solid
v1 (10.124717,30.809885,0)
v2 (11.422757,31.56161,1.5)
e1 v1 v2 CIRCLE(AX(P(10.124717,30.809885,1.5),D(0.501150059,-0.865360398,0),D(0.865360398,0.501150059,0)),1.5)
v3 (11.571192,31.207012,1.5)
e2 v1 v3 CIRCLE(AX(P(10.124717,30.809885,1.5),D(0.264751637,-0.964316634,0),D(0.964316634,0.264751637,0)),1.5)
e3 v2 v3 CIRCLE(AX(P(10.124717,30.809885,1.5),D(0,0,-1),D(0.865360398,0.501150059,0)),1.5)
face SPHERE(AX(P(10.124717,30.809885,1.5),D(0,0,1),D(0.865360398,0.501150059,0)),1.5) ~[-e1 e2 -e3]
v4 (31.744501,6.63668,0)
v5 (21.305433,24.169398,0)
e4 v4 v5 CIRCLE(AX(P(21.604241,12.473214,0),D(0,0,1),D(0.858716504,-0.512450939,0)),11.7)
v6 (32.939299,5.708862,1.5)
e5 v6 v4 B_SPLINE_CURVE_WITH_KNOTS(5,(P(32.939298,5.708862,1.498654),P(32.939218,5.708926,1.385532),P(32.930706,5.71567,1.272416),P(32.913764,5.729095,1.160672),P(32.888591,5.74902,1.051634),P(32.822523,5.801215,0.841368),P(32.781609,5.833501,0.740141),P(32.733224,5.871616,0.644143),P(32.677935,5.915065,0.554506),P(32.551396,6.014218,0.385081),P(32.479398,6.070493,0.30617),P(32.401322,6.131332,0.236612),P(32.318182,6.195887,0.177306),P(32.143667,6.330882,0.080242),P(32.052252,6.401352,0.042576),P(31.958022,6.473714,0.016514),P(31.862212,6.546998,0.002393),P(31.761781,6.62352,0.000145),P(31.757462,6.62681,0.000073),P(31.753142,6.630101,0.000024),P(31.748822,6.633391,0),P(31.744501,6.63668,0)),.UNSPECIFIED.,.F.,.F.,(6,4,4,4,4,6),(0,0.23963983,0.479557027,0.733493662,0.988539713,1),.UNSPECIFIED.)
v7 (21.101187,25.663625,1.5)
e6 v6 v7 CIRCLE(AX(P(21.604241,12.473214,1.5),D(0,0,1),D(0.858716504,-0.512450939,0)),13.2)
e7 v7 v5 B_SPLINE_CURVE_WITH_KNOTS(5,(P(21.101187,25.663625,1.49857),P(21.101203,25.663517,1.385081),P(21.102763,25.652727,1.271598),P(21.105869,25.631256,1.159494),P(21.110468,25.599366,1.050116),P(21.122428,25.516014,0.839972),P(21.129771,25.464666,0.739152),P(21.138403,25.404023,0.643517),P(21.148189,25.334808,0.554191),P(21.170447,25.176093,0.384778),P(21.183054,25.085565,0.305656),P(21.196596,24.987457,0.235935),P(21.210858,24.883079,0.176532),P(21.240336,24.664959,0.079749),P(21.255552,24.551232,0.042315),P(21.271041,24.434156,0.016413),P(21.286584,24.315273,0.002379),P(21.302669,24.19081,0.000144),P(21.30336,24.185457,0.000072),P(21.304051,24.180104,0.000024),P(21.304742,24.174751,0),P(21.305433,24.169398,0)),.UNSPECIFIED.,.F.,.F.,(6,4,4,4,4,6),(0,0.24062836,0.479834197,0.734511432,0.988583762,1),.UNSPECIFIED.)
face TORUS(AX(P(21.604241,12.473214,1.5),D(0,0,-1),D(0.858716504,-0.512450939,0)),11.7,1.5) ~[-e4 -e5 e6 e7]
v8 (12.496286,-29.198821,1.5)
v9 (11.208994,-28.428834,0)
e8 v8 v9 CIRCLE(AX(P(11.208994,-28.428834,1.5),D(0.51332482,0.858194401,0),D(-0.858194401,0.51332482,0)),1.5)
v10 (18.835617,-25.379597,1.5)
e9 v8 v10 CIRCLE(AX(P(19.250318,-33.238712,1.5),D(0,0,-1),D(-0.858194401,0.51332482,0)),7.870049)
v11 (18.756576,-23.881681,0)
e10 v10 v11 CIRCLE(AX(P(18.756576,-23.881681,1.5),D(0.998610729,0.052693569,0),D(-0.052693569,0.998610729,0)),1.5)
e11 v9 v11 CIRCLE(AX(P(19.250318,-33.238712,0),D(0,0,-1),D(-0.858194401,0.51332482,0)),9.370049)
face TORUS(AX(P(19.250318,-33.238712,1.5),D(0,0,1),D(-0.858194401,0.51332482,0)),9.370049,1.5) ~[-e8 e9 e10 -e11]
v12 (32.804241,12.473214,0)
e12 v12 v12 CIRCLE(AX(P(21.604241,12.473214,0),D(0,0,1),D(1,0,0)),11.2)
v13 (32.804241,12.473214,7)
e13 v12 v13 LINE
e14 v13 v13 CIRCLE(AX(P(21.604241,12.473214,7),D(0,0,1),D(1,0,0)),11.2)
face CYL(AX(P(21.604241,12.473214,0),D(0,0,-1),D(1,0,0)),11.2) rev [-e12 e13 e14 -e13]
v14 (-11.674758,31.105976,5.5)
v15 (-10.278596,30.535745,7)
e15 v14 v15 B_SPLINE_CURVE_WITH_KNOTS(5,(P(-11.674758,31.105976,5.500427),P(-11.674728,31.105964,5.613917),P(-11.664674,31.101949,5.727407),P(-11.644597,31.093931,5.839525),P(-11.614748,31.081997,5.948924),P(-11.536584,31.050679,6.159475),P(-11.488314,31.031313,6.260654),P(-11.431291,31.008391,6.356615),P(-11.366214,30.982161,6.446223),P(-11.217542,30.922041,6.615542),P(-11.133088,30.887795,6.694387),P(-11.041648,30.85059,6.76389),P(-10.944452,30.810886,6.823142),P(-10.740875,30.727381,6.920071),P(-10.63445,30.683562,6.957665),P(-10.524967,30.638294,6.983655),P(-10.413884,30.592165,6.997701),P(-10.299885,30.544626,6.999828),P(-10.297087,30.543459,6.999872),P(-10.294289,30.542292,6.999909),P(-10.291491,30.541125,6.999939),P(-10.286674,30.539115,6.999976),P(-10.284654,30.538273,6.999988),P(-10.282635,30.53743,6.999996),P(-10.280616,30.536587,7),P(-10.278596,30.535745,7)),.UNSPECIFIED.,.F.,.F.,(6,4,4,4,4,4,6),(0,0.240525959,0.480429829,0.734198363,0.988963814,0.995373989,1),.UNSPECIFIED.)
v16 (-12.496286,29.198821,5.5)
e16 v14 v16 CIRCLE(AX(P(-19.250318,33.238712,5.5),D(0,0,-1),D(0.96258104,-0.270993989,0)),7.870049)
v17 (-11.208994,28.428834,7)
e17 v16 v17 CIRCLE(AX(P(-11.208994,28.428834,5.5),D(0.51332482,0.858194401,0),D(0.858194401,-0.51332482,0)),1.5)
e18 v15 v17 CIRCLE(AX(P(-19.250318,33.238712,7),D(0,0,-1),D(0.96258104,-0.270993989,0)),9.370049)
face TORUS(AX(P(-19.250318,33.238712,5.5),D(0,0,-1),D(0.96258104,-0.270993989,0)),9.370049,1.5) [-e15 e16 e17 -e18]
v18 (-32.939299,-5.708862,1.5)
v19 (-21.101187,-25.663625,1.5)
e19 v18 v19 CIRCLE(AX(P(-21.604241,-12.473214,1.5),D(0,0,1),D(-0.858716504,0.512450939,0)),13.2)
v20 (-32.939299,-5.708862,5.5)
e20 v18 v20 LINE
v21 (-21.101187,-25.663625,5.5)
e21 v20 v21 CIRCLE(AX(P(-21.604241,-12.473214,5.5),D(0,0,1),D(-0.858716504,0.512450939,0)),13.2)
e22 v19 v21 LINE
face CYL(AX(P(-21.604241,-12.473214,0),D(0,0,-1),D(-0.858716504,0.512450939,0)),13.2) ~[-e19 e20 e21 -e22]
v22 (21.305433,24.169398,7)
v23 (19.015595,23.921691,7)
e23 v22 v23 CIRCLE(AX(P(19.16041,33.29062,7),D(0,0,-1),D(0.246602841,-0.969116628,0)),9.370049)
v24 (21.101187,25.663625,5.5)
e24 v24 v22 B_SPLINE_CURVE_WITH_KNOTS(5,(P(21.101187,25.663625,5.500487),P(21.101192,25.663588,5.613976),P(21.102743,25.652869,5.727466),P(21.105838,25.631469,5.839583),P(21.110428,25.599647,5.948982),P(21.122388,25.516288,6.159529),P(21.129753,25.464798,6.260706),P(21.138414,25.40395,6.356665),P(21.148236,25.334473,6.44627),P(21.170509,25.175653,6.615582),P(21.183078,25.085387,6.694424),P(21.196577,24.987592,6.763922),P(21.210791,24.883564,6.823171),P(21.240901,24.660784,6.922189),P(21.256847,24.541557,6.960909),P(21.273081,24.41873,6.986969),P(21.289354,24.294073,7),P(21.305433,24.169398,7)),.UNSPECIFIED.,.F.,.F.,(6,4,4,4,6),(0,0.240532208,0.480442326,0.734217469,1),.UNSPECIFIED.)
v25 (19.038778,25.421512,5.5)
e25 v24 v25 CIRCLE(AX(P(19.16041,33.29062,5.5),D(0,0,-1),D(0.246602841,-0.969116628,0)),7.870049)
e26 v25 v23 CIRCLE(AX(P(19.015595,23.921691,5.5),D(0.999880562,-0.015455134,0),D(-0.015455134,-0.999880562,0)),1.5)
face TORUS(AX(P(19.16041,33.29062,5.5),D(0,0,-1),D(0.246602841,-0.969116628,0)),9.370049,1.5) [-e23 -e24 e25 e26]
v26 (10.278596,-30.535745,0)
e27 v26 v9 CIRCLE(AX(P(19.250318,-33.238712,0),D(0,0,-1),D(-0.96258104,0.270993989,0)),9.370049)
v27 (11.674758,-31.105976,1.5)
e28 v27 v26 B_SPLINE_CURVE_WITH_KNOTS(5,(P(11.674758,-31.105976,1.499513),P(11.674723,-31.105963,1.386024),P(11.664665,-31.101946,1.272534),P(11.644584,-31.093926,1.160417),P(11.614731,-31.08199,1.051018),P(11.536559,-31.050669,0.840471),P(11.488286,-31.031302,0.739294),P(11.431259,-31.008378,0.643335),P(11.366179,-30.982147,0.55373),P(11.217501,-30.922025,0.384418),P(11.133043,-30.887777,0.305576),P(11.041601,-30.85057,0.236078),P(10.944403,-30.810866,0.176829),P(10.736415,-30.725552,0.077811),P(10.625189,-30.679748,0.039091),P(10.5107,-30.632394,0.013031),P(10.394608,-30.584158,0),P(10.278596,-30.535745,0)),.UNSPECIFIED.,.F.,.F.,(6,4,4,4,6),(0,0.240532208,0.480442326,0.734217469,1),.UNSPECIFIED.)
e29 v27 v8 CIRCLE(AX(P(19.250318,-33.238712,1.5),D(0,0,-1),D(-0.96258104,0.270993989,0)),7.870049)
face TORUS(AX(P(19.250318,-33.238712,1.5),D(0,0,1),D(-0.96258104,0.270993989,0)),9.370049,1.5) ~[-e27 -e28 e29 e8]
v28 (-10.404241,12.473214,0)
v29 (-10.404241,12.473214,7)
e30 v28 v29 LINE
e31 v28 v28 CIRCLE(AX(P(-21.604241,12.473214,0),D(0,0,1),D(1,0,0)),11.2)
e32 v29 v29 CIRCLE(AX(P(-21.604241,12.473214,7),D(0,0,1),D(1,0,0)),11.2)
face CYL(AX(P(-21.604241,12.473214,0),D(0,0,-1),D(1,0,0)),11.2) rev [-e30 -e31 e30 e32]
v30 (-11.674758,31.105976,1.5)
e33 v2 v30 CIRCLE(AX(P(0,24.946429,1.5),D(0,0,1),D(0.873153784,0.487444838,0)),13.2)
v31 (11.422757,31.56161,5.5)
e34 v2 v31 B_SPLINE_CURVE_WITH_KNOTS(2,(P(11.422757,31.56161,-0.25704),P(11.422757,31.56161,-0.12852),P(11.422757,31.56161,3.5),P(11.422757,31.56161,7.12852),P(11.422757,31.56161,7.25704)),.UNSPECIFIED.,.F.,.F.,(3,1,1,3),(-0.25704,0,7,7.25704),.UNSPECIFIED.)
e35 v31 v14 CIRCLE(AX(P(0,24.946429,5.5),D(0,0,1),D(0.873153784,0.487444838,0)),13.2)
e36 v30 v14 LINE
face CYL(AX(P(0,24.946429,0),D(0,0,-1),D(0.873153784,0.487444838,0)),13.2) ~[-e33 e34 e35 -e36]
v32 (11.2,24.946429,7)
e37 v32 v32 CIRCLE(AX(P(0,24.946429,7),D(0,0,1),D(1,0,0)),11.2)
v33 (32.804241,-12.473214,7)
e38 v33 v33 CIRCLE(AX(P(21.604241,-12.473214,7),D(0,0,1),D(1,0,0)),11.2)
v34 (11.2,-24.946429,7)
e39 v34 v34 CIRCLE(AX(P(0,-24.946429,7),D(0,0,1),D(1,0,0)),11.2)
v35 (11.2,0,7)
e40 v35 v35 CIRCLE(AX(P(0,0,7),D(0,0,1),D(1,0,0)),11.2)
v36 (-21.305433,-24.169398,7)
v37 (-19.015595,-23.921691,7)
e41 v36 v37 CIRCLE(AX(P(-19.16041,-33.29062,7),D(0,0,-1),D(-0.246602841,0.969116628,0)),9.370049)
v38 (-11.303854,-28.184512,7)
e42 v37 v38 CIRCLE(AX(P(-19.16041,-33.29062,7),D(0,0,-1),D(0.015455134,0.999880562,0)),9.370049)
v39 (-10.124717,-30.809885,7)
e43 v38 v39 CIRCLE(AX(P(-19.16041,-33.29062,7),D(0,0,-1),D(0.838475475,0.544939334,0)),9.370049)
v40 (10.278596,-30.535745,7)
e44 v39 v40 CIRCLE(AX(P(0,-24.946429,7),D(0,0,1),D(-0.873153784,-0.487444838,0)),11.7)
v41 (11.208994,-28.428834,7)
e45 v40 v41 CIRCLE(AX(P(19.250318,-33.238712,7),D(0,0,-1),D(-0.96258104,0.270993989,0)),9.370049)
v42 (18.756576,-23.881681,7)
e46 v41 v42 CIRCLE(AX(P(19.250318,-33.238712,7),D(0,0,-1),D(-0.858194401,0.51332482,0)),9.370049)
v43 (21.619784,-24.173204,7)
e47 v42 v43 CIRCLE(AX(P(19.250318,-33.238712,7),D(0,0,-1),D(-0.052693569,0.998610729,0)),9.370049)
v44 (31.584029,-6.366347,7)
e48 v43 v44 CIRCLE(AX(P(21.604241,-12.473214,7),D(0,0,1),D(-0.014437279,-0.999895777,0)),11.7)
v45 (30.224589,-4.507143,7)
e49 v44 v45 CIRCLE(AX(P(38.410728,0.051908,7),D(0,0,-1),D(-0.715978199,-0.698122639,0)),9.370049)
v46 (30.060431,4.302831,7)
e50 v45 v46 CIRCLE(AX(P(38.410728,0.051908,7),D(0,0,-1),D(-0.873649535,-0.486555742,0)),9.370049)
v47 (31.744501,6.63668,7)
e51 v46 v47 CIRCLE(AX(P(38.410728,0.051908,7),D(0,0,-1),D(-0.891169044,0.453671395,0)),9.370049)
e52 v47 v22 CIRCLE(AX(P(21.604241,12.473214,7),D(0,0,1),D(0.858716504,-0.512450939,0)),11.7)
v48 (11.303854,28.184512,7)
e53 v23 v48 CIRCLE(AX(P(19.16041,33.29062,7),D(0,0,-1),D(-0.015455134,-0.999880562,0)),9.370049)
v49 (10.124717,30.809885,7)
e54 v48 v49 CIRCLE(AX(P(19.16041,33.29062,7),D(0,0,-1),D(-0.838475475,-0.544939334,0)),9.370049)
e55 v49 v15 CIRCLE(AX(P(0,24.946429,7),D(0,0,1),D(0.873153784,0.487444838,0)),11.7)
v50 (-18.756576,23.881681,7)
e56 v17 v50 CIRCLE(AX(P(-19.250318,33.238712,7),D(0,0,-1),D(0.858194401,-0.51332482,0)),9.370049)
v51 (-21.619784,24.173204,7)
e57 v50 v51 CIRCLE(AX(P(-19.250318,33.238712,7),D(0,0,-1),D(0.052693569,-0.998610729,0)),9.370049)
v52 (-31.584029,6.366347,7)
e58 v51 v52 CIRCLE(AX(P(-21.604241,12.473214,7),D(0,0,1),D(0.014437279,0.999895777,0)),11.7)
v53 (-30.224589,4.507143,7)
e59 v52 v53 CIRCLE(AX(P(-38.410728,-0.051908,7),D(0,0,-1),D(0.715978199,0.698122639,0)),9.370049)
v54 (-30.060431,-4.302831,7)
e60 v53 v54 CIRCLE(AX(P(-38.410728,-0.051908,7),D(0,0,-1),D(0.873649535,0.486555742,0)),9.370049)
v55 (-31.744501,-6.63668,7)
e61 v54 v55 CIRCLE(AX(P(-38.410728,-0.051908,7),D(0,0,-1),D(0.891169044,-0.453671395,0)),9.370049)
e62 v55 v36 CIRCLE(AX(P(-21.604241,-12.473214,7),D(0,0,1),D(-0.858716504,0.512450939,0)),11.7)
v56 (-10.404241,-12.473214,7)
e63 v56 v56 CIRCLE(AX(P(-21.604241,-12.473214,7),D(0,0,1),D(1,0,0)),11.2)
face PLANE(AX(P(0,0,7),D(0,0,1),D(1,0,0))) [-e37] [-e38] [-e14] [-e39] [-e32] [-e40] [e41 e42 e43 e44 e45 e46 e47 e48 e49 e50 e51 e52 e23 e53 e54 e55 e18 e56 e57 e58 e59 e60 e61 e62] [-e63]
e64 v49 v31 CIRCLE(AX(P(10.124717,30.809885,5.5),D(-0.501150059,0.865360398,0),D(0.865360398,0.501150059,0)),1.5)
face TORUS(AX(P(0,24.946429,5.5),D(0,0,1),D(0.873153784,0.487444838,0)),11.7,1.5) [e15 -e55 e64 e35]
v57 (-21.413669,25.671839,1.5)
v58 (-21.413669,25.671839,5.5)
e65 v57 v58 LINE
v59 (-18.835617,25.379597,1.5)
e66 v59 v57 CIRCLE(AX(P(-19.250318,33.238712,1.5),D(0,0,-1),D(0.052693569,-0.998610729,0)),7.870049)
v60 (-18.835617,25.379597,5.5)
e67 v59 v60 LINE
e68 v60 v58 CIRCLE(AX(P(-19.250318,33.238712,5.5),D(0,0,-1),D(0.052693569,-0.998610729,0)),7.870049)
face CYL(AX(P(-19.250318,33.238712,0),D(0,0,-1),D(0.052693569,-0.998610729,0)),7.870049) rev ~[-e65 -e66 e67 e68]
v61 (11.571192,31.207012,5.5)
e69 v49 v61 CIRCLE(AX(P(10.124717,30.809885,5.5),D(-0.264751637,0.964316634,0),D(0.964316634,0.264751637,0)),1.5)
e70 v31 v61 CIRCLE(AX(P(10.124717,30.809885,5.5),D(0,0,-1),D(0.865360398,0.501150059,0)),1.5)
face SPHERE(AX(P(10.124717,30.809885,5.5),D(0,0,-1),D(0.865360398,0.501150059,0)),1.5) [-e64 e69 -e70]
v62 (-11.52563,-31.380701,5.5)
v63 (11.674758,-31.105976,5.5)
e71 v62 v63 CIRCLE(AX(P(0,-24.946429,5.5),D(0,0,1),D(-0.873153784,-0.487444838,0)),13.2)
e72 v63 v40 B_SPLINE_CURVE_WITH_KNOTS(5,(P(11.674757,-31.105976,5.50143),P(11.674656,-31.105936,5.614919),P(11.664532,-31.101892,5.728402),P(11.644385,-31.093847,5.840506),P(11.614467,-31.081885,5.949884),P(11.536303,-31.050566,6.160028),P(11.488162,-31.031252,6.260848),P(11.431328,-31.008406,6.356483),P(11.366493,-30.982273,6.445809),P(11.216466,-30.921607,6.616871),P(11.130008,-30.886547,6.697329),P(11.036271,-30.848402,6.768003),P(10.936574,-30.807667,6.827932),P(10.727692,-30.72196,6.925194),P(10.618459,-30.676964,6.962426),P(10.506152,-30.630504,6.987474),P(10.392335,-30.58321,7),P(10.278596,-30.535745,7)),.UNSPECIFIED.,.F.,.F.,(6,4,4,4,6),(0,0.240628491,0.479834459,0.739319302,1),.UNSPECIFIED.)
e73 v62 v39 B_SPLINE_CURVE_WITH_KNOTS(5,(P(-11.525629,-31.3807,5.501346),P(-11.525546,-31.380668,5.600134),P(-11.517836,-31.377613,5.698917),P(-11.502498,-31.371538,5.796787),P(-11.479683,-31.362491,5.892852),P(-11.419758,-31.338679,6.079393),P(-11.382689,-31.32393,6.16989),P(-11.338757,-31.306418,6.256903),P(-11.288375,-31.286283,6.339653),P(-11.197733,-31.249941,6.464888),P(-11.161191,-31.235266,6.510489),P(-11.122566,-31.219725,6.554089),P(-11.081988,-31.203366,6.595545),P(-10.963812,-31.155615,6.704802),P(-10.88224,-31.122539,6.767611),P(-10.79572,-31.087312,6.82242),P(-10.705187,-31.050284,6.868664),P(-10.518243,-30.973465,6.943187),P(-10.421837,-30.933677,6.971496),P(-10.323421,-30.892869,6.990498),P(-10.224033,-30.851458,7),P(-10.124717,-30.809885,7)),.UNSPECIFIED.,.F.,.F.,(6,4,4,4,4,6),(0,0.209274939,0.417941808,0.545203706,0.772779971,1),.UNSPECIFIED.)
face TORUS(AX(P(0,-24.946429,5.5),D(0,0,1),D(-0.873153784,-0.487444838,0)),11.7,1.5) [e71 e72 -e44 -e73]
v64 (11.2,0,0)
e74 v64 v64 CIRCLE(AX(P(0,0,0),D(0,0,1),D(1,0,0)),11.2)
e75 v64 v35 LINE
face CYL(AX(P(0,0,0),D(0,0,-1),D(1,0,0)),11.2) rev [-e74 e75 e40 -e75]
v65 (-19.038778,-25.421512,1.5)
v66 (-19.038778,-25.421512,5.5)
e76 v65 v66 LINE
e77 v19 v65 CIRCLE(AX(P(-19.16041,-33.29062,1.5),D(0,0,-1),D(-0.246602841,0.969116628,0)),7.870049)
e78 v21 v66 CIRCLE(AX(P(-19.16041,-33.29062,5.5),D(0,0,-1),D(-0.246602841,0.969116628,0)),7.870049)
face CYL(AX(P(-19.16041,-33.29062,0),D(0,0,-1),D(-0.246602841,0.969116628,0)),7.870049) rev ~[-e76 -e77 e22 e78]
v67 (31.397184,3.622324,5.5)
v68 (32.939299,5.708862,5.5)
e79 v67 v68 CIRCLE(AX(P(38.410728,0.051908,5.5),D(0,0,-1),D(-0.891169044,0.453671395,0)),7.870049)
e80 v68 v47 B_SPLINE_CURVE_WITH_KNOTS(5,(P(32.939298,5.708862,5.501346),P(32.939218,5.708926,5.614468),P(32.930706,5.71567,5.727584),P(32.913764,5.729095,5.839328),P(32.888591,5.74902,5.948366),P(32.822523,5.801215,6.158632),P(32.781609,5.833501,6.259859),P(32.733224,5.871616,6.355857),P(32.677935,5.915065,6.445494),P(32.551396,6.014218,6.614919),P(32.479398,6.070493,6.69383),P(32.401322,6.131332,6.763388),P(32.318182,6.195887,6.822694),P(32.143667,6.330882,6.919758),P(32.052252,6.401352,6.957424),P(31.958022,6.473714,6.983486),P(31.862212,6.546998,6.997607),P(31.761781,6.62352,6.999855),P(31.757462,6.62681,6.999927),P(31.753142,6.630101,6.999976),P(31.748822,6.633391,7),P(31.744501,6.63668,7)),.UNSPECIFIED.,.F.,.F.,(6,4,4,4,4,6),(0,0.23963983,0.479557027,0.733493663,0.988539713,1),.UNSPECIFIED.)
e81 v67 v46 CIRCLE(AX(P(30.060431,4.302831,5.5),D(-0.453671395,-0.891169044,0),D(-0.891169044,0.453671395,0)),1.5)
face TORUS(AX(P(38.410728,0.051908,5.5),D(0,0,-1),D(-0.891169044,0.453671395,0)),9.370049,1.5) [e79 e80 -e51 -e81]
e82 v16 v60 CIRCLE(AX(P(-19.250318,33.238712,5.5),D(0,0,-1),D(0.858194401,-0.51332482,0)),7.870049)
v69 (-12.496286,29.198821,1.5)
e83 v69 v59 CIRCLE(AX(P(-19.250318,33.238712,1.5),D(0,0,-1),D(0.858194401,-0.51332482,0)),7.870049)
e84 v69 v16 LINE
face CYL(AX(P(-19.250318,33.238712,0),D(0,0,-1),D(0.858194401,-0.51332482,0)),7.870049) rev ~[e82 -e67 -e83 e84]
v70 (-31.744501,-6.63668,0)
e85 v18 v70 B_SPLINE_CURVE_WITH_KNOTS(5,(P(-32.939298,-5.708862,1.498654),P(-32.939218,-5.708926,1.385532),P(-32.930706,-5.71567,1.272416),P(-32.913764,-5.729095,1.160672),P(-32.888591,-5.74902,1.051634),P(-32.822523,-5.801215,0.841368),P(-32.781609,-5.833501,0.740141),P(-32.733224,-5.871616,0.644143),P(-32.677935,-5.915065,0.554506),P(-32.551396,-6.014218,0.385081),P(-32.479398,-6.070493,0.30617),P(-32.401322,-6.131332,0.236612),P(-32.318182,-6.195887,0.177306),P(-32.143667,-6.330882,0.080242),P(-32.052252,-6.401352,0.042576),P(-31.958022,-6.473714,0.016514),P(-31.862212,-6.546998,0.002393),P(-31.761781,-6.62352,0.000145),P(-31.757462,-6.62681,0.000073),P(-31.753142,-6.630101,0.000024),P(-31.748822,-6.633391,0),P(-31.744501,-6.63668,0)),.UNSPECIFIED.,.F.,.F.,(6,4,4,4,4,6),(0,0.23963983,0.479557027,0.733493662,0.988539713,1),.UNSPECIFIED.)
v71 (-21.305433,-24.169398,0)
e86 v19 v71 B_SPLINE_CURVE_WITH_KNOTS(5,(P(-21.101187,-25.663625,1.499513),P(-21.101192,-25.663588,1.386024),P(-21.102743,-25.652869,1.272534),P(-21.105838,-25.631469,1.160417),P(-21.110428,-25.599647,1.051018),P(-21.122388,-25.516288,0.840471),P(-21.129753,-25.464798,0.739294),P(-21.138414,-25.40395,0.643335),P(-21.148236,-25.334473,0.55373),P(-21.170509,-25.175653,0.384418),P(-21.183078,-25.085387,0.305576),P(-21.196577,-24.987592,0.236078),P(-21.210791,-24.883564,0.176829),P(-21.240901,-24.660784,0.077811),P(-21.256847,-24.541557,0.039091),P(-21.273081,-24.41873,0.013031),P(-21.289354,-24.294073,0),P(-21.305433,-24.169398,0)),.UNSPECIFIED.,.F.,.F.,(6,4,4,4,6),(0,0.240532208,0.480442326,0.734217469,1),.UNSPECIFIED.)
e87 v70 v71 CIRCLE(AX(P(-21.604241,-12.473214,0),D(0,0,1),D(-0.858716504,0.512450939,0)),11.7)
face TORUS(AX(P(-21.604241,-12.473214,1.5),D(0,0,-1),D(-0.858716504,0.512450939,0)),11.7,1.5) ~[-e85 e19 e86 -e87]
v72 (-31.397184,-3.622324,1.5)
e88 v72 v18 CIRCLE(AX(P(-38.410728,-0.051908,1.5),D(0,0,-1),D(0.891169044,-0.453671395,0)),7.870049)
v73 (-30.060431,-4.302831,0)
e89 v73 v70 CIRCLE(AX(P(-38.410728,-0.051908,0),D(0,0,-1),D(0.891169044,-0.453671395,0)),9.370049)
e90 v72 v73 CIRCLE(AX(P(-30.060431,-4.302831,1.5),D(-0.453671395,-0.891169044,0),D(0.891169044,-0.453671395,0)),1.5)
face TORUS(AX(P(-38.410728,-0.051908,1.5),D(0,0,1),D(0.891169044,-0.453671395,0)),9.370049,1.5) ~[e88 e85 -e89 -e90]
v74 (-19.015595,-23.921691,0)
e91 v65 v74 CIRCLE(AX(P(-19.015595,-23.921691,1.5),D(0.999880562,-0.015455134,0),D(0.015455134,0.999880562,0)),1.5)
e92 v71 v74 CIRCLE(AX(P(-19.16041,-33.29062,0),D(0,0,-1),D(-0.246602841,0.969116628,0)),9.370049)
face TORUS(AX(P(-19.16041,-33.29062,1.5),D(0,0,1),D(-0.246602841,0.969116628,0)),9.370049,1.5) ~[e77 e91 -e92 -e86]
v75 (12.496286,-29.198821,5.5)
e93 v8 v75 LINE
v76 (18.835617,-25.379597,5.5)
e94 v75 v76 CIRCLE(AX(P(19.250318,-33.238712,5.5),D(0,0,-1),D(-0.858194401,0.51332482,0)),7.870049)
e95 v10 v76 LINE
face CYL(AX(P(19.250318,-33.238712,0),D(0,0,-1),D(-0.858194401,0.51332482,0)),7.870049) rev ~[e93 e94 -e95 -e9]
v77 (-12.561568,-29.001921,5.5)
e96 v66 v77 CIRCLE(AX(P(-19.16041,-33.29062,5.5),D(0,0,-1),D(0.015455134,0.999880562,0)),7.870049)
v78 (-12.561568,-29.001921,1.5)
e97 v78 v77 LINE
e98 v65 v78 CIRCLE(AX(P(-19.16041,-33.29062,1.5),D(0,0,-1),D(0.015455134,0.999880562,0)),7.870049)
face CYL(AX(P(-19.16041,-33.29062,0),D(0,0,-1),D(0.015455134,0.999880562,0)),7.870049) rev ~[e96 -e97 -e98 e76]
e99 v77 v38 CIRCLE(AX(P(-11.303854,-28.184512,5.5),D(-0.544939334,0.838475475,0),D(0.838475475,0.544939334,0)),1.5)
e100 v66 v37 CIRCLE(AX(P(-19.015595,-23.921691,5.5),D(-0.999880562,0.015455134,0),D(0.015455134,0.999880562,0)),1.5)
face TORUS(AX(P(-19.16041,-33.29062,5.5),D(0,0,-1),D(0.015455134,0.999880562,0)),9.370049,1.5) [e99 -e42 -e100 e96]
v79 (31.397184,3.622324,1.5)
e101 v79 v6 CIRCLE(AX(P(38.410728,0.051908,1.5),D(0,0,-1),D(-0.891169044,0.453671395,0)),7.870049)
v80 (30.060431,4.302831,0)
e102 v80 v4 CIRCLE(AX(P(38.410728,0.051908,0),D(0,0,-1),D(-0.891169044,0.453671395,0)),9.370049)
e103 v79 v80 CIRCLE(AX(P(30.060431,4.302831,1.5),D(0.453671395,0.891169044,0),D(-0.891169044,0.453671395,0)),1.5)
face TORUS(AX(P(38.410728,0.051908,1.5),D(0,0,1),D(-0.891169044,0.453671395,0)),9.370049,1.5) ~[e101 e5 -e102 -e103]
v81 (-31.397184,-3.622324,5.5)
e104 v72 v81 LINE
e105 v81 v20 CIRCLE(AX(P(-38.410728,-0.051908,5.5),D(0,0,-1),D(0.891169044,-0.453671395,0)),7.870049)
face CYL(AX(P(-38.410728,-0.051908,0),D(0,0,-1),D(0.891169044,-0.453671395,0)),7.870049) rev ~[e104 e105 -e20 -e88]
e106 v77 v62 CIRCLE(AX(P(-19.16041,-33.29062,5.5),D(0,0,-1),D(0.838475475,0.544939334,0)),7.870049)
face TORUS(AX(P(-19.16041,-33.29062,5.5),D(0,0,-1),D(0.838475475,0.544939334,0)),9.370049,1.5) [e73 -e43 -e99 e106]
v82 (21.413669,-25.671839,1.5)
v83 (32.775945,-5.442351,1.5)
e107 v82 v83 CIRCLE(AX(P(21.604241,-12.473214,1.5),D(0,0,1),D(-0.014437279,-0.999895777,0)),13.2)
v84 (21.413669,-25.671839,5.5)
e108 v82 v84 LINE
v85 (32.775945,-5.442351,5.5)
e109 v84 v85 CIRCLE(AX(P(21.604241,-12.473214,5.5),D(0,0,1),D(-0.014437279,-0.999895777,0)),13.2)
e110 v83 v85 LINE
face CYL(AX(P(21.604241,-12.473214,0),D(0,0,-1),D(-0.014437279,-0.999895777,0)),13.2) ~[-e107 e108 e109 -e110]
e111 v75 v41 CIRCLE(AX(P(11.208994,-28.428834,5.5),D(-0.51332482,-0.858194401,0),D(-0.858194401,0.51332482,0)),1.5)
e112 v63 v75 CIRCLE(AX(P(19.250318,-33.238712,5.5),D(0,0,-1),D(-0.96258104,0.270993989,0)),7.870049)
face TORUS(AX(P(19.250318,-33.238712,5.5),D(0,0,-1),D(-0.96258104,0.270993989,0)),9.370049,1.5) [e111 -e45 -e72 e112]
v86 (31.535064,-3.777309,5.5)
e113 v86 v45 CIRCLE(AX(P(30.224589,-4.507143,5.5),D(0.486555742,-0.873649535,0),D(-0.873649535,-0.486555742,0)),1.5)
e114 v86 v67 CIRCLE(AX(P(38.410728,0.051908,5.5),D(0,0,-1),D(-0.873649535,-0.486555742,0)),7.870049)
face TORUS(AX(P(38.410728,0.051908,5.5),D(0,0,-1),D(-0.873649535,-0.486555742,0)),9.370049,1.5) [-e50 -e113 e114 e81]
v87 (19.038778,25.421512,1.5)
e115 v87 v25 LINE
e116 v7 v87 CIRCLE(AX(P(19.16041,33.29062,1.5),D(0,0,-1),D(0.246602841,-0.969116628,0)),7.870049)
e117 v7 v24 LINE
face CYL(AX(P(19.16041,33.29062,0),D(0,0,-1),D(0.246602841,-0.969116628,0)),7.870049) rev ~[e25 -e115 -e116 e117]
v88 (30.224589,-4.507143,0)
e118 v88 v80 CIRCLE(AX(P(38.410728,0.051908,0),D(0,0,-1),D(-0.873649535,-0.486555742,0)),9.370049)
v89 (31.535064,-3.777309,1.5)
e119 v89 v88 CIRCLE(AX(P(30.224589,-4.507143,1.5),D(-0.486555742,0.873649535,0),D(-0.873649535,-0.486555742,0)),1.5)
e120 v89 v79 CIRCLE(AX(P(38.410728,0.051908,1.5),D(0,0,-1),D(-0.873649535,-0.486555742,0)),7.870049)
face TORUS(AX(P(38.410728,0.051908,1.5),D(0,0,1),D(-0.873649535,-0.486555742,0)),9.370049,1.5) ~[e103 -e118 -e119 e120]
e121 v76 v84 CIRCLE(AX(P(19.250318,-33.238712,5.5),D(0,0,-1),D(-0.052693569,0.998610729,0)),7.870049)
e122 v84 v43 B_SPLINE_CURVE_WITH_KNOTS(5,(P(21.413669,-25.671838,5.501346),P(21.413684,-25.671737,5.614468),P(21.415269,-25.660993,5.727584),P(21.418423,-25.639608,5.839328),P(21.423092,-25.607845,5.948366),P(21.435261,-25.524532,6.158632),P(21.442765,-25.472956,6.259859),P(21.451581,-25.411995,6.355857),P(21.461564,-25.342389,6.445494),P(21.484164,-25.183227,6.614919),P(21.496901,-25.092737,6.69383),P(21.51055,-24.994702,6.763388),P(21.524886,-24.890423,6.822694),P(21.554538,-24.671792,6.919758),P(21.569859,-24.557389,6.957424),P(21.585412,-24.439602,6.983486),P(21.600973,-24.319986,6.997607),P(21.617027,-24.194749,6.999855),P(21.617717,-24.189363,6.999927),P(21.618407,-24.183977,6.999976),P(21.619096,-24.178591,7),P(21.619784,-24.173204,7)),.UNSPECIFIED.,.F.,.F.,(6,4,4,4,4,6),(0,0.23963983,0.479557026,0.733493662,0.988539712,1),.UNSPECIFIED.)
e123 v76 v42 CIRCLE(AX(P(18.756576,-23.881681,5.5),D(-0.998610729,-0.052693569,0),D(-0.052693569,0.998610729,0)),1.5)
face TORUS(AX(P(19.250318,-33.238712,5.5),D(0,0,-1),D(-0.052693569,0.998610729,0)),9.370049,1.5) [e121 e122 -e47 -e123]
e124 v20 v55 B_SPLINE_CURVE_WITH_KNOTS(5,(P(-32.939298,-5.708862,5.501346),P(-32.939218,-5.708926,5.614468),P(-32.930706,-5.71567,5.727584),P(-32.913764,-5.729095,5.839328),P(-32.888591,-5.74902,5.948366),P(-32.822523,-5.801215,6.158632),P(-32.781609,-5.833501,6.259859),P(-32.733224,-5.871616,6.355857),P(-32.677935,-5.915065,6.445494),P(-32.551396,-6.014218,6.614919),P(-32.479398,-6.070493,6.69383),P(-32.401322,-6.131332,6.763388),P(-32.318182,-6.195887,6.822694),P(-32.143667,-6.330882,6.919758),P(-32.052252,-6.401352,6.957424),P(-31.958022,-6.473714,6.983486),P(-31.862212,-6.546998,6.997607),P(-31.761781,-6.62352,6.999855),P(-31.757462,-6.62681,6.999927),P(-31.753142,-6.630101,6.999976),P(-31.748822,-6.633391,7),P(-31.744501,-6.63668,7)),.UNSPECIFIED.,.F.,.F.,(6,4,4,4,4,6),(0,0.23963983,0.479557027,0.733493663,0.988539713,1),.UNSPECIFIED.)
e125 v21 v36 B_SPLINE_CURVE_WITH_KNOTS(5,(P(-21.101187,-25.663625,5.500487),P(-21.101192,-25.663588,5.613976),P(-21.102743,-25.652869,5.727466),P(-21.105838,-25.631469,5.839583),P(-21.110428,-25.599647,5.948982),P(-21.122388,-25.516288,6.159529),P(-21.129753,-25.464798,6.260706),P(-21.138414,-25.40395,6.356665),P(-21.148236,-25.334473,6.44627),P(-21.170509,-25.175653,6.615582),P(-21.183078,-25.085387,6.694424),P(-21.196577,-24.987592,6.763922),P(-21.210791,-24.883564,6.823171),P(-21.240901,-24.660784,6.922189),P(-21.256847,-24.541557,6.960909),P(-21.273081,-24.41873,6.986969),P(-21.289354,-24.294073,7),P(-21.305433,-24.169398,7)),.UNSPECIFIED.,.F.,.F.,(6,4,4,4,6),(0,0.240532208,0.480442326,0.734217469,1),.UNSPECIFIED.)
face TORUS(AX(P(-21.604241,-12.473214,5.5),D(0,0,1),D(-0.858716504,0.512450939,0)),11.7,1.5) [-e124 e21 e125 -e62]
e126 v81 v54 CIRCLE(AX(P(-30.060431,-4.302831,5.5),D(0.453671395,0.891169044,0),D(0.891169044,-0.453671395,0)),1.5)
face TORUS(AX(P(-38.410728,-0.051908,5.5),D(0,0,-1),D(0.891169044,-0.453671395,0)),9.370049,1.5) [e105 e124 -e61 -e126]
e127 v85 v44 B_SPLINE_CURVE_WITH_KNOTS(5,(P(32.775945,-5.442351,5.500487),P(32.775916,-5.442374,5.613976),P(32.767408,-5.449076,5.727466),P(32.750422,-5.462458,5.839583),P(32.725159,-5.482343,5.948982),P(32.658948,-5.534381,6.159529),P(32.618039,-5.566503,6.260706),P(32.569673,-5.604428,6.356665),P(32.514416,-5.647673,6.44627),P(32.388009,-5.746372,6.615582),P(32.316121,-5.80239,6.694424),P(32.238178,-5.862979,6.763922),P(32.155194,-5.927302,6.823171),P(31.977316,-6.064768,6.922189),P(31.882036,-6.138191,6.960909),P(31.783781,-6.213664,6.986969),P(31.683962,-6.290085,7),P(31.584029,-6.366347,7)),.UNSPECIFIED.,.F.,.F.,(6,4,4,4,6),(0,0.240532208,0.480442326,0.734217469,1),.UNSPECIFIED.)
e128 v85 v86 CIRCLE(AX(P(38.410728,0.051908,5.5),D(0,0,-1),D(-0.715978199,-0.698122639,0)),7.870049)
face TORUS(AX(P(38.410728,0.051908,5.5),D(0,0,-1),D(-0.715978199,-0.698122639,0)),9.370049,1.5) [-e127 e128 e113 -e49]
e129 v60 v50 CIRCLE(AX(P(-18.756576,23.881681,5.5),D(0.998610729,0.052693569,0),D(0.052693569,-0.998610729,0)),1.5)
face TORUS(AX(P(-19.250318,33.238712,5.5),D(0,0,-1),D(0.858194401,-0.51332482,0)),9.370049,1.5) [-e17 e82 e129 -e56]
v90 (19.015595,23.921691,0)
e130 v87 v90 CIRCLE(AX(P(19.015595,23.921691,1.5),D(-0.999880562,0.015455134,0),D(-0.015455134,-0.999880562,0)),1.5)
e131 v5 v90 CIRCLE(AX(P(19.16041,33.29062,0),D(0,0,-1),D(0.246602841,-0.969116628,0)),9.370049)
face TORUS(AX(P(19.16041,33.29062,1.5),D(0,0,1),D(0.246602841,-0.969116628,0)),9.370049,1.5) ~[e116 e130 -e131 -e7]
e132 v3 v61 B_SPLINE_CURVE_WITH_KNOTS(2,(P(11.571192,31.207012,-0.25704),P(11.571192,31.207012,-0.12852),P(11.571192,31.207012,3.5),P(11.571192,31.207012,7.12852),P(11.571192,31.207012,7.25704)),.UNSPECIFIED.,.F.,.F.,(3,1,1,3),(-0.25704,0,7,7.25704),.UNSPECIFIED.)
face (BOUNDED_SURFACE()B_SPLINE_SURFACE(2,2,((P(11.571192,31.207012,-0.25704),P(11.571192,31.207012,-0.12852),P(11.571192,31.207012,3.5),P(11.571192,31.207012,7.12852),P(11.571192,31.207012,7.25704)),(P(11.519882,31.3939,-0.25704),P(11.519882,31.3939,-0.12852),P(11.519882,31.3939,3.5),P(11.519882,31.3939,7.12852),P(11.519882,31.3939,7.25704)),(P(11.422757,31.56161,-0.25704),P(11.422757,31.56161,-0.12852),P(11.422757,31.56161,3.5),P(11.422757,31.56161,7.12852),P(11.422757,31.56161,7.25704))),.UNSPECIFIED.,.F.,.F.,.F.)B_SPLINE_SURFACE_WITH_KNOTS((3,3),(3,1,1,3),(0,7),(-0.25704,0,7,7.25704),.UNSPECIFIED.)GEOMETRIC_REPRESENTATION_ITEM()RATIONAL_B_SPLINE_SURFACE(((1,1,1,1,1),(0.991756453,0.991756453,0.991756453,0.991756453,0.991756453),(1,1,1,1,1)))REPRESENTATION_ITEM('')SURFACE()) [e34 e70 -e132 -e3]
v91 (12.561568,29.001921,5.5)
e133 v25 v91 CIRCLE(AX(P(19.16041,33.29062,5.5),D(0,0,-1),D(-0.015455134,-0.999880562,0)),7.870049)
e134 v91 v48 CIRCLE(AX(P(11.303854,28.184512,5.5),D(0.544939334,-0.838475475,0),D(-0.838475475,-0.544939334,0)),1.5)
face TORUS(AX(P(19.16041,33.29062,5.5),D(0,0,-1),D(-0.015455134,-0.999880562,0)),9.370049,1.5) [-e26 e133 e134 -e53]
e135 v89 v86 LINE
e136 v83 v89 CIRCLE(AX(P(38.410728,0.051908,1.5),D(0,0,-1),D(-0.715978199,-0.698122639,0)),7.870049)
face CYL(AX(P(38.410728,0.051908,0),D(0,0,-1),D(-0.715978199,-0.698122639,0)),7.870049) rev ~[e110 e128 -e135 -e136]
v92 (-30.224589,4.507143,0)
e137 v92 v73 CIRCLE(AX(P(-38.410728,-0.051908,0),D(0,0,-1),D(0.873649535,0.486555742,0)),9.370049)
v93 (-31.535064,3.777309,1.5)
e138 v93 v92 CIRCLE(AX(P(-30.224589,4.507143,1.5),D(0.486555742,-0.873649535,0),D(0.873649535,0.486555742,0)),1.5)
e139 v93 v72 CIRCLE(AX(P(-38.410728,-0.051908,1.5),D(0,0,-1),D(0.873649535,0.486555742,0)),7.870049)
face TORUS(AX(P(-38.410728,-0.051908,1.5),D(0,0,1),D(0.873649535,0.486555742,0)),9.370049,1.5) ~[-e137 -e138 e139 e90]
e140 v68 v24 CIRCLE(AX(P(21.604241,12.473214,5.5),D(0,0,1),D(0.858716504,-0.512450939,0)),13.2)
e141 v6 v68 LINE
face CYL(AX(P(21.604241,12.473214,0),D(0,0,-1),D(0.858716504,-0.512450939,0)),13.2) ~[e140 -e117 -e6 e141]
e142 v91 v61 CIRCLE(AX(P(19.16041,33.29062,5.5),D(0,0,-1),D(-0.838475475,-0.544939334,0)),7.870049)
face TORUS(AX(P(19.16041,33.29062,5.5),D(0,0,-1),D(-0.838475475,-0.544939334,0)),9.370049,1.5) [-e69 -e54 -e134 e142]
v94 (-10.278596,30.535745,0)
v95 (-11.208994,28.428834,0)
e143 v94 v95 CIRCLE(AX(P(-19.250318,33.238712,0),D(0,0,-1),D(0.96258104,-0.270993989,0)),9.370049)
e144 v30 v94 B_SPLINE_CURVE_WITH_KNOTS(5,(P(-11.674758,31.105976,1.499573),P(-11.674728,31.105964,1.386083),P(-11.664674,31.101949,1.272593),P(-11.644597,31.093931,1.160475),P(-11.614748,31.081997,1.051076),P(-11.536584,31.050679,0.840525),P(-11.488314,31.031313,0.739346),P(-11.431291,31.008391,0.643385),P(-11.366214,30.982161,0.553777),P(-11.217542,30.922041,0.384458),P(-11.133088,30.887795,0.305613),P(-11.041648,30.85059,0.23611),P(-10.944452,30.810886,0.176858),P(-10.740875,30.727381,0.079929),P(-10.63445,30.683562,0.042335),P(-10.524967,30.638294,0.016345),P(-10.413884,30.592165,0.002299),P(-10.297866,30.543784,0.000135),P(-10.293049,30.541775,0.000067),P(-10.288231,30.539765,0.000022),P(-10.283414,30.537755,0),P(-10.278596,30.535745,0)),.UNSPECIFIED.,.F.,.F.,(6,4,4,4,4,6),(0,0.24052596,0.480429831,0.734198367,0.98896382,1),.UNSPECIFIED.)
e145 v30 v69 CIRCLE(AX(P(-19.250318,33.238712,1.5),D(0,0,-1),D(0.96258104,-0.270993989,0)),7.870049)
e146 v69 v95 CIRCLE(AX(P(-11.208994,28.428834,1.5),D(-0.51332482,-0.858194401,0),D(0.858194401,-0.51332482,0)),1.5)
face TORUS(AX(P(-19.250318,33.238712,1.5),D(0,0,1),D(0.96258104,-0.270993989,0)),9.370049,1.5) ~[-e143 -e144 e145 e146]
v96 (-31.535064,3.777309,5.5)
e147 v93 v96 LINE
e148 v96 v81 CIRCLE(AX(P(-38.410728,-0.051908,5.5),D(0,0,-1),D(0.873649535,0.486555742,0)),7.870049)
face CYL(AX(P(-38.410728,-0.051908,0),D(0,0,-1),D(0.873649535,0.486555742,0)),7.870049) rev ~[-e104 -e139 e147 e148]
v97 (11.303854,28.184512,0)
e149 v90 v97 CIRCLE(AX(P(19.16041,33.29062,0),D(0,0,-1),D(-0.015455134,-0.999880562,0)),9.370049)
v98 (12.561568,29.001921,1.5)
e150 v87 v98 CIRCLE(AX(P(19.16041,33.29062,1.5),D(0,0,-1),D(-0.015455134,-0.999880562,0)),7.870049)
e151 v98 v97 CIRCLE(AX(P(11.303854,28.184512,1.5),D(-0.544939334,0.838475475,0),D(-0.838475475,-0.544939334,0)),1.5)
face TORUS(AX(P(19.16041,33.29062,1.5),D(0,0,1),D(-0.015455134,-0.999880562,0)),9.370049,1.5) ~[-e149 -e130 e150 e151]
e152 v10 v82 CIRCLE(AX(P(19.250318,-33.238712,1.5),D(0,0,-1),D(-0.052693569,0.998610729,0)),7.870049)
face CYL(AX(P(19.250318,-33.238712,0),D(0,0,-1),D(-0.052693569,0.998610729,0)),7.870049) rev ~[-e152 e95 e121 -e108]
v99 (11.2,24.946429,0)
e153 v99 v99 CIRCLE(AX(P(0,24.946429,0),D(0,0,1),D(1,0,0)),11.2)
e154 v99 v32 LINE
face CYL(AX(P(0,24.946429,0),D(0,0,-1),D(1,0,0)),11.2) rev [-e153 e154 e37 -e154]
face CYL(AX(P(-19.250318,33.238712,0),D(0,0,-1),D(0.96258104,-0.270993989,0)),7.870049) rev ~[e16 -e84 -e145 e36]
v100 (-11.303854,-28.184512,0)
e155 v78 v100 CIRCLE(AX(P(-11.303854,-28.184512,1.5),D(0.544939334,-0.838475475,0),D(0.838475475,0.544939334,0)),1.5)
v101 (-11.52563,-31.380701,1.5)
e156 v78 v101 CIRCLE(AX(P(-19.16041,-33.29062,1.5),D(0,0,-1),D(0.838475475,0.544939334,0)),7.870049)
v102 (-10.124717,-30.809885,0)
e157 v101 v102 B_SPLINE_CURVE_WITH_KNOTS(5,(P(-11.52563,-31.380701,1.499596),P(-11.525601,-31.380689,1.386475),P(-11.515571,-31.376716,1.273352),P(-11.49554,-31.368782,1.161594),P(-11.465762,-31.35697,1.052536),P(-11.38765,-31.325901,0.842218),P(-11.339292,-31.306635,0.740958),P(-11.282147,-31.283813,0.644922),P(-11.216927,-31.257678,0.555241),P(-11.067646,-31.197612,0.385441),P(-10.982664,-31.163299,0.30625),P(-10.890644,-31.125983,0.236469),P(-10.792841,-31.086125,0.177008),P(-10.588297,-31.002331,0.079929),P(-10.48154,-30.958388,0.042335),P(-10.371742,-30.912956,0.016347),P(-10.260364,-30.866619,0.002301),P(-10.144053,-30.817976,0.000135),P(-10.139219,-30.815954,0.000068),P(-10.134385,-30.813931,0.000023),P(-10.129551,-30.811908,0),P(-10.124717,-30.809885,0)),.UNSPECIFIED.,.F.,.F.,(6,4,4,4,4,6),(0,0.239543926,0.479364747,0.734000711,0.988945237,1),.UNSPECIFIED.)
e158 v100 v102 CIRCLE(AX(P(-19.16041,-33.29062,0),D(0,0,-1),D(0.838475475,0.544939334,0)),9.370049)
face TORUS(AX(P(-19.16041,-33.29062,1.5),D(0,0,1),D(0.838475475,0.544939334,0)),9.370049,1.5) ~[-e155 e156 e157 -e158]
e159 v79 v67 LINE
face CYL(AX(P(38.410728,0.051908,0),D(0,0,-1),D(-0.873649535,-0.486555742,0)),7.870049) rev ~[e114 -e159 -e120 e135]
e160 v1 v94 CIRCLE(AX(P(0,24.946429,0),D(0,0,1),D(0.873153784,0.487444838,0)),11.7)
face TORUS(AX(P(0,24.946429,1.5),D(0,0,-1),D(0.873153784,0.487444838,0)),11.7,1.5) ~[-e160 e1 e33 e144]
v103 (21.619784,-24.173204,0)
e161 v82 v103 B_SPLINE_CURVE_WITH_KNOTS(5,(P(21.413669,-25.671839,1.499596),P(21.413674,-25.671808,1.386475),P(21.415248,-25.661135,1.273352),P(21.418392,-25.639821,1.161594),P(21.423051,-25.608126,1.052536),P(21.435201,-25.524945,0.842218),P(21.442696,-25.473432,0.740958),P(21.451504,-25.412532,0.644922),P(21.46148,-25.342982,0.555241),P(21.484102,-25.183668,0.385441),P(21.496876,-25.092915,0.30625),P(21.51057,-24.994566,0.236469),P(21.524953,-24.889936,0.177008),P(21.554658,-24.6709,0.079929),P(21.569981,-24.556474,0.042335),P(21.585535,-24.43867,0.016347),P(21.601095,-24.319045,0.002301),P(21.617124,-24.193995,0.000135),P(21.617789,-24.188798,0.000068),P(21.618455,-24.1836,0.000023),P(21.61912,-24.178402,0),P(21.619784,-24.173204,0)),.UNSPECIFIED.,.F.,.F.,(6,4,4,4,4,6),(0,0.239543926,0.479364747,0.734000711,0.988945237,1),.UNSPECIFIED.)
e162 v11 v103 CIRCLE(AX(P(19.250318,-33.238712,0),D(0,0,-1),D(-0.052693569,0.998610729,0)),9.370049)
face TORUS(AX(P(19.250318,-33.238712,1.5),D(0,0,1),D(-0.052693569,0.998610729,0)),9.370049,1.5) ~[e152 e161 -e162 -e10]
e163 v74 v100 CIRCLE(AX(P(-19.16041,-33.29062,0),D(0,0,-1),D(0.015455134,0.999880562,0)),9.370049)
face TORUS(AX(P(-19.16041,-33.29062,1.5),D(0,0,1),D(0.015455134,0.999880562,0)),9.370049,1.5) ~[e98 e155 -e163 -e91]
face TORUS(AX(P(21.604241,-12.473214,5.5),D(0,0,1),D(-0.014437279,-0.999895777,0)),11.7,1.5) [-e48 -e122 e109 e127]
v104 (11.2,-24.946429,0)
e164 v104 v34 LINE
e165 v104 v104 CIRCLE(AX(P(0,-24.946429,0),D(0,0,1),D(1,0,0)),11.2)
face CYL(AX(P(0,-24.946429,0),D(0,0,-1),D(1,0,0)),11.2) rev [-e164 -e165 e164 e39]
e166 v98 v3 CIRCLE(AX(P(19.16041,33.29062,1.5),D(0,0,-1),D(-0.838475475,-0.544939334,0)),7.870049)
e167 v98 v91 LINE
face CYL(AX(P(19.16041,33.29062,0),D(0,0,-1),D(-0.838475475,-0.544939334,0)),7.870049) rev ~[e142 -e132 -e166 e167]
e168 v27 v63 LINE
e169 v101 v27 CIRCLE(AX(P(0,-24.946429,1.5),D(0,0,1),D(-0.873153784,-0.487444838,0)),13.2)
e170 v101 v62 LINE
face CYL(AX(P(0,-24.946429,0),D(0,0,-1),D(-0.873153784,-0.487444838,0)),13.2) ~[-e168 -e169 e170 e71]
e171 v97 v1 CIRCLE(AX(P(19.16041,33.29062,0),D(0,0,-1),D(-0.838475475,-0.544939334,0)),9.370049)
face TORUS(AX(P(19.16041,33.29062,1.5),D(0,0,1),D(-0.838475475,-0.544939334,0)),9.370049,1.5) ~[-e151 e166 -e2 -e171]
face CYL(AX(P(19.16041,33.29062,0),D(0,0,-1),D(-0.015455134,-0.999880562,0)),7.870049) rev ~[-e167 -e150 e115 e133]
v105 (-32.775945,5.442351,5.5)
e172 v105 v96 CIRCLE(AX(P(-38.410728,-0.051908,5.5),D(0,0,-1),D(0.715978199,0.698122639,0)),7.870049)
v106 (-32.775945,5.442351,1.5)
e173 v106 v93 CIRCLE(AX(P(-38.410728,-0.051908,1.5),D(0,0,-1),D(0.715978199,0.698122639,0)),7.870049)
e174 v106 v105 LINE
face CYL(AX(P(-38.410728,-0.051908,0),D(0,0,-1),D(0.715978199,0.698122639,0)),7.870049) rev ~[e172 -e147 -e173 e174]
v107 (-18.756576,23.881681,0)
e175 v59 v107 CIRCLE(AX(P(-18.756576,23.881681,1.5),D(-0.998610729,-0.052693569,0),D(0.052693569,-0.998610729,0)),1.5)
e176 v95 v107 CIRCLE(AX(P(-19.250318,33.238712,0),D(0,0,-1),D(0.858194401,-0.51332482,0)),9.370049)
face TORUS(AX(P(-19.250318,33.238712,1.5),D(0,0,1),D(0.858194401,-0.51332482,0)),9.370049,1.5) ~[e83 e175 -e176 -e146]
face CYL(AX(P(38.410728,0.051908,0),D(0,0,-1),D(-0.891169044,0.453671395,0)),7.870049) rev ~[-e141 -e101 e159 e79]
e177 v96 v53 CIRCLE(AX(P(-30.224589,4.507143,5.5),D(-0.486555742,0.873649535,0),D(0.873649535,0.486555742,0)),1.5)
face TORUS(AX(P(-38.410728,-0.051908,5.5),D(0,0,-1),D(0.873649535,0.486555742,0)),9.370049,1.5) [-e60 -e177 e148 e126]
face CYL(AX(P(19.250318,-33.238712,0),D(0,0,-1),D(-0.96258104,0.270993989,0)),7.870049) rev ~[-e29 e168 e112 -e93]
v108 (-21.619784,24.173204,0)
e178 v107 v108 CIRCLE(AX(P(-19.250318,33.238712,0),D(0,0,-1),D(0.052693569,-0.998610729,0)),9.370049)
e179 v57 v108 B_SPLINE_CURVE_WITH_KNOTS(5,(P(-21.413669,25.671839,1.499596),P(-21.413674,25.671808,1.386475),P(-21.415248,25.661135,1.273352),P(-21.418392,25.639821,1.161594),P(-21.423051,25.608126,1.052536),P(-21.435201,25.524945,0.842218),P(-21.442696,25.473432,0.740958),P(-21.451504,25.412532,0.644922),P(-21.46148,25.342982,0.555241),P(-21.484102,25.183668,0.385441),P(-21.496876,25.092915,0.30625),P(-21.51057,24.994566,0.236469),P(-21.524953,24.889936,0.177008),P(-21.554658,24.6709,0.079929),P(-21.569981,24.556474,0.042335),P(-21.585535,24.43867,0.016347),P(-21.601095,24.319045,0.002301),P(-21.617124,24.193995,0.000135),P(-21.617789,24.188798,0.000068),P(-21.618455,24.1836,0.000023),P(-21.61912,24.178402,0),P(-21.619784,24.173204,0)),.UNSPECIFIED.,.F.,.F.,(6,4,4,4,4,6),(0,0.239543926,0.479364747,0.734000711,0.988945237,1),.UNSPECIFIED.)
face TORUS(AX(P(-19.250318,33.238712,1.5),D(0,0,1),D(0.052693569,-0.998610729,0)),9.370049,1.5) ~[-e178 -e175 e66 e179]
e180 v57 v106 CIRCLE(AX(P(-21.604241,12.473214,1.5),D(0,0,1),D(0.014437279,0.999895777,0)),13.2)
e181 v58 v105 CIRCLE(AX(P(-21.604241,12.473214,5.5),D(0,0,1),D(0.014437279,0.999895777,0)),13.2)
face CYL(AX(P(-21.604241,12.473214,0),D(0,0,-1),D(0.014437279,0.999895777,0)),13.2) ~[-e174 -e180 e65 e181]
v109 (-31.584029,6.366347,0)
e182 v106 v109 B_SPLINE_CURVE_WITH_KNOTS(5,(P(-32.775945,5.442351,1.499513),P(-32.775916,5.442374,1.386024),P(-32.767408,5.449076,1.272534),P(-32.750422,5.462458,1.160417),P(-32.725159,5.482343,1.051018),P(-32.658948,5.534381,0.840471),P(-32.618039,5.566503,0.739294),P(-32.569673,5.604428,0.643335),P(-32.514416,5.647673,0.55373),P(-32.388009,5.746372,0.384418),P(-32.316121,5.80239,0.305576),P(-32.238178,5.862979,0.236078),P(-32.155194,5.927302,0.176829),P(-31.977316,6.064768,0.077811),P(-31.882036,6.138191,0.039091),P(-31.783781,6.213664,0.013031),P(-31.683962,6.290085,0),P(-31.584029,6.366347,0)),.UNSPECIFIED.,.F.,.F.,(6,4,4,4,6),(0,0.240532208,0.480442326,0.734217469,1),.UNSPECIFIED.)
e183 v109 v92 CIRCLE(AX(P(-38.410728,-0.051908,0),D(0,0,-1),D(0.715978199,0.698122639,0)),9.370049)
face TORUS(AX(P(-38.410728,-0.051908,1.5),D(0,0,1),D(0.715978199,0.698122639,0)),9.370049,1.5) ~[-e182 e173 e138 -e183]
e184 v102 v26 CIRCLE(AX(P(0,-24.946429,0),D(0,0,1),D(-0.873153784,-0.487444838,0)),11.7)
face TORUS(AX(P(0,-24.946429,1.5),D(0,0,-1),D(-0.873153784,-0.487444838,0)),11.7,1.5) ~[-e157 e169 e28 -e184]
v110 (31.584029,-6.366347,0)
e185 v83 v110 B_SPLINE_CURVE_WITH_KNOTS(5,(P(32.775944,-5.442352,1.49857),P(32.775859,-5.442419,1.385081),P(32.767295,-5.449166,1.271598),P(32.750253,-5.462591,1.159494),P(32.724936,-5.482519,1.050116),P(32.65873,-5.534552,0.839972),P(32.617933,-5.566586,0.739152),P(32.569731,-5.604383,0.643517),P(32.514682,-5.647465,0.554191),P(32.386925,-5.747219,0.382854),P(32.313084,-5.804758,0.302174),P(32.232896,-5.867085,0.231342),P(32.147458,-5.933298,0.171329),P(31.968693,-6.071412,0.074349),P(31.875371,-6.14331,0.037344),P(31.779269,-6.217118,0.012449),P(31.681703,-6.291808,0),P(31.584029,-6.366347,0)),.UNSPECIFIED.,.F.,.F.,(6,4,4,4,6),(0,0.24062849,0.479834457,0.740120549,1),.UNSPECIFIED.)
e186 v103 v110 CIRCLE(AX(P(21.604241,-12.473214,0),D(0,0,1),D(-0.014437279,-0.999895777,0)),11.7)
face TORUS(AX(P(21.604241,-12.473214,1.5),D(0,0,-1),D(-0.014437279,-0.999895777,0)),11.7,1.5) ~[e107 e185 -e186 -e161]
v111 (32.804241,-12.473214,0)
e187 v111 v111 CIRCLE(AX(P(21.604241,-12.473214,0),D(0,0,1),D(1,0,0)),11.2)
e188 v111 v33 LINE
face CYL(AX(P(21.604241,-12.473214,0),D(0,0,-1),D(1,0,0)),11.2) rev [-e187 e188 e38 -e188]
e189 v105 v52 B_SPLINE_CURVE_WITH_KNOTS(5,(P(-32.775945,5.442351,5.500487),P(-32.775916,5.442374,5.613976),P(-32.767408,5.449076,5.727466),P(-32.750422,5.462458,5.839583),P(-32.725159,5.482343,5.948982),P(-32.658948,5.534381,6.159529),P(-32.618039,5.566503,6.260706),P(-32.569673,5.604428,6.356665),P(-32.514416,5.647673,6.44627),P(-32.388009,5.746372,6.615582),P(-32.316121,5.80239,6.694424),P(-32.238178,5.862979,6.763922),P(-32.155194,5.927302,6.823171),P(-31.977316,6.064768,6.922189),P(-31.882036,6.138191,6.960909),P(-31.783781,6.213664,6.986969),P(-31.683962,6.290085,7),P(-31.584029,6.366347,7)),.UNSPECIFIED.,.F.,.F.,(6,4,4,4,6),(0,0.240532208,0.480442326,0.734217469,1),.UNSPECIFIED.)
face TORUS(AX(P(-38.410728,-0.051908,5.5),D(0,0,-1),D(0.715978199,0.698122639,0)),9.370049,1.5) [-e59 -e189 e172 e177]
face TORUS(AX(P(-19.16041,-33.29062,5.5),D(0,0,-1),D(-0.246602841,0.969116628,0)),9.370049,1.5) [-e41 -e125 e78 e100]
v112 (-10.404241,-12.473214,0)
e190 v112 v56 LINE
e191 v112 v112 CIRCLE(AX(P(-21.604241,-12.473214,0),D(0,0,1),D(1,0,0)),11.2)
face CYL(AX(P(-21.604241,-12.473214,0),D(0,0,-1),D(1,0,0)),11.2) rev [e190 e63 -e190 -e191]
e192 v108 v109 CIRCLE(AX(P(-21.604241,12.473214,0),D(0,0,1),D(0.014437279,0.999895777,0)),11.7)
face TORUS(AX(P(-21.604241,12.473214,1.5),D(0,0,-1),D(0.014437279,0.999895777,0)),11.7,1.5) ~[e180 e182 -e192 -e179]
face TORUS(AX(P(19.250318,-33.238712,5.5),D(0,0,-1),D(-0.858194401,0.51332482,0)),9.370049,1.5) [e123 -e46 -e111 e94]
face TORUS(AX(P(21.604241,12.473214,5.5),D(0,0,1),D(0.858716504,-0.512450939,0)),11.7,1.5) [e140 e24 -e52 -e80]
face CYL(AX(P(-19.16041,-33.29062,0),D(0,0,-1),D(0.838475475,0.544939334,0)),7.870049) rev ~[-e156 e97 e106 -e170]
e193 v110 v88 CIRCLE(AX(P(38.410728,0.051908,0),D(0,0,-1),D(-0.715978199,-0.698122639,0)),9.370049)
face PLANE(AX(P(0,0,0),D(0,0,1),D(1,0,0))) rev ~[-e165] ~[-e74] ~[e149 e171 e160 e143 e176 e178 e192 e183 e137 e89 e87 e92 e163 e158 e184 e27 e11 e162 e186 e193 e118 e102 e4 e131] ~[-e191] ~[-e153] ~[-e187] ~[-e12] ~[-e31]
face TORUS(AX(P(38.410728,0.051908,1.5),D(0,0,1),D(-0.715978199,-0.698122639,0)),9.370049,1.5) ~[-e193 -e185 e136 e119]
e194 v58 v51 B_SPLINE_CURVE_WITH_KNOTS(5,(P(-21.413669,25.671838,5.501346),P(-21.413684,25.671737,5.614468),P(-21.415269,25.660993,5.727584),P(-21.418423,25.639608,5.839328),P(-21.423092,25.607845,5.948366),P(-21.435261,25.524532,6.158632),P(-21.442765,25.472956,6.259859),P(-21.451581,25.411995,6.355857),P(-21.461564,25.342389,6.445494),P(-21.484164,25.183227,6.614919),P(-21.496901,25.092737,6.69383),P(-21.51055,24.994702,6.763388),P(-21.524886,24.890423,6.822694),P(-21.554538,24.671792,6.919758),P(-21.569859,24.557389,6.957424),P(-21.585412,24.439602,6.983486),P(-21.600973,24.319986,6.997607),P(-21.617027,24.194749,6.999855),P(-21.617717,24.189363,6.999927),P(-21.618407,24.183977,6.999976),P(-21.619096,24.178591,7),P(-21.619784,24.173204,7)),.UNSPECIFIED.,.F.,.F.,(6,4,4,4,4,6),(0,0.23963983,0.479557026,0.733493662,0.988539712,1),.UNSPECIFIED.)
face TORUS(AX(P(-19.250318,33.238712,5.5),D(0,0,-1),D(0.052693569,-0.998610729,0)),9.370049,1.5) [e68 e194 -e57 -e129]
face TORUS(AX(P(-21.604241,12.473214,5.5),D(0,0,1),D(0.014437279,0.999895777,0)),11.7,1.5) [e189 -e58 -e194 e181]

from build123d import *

# Parameters (mm, degrees)
F0_R     = 11.2
F1_DEPTH = 7
F2_R     = 1.5


with BuildPart() as f1:
    # F0 (on Top) → F1 (new body)
    with BuildSketch(Plane.XY):
        with BuildLine():
            ThreePointArc((19.0387778282, 25.4215115326), (15.3530451286, 26.4028313771), (12.5615676573, 29.0019211595))
            ThreePointArc((12.5615676573, 29.0019211595), (11.9448954959, 30.1483264996), (11.5256299455, 31.3807006946))
            ThreePointArc((11.5256299455, 31.3807006946), (-0.1562950433, 38.1455034946), (-11.6747579422, 31.1059764641))
            ThreePointArc((-11.6747579422, 31.1059764641), (-12.0223436264, 30.1251840115), (-12.4962858757, 29.1988210225))
            ThreePointArc((-12.4962858757, 29.1988210225), (-15.1890001401, 26.4975427954), (-18.835616654, 25.3795972823))
            ThreePointArc((-18.835616654, 25.3795972823), (-20.1367688823, 25.4187461947), (-21.4136690174, 25.6718386748))
            ThreePointArc((-21.4136690174, 25.6718386748), (-33.1131225881, 18.9373962693), (-32.7759447985, 5.442351271))
            ThreePointArc((-32.7759447985, 5.442351271), (-32.1003464608, 4.6509370122), (-31.5350637039, 3.77730949))
            ThreePointArc((-31.5350637039, 3.77730949), (-30.5420452687, 0.0947114183), (-31.3971843113, -3.6223238772))
            ThreePointArc((-31.3971843113, -3.6223238772), (-32.0816643781, -4.7295803048), (-32.9392989629, -5.7088620199))
            ThreePointArc((-32.9392989629, -5.7088620199), (-32.9568275448, -19.2081072253), (-21.1011868563, -25.6636251931))
            ThreePointArc((-21.1011868563, -25.6636251931), (-20.0780028344, -25.4742469992), (-19.0387778282, -25.4215115326))
            ThreePointArc((-19.0387778282, -25.4215115326), (-15.3530451286, -26.4028313771), (-12.5615676573, -29.0019211595))
            ThreePointArc((-12.5615676573, -29.0019211595), (-11.9448954959, -30.1483264996), (-11.5256299455, -31.3807006946))
            ThreePointArc((-11.5256299455, -31.3807006946), (0.1562950433, -38.1455034946), (11.6747579422, -31.1059764641))
            ThreePointArc((11.6747579422, -31.1059764641), (12.0223436264, -30.1251840115), (12.4962858757, -29.1988210225))
            ThreePointArc((12.4962858757, -29.1988210225), (15.1890001401, -26.4975427954), (18.835616654, -25.3795972823))
            ThreePointArc((18.835616654, -25.3795972823), (20.1367688823, -25.4187461947), (21.4136690174, -25.6718386748))
            ThreePointArc((21.4136690174, -25.6718386748), (33.1131225881, -18.9373962693), (32.7759447985, -5.442351271))
            ThreePointArc((32.7759447985, -5.442351271), (32.1003464608, -4.6509370122), (31.5350637039, -3.77730949))
            ThreePointArc((31.5350637039, -3.77730949), (30.5420452687, -0.0947114183), (31.3971843113, 3.6223238772))
            ThreePointArc((31.3971843113, 3.6223238772), (32.0816643781, 4.7295803048), (32.9392989629, 5.7088620199))
            ThreePointArc((32.9392989629, 5.7088620199), (32.9568275448, 19.2081072253), (21.1011868563, 25.6636251931))
            ThreePointArc((21.1011868563, 25.6636251931), (20.0780028344, 25.4742469992), (19.0387778282, 25.4215115326))
        make_face()
        with Locations((-21.6042411052, -12.4732144177)):
            Circle(F0_R, mode=Mode.SUBTRACT)
        with Locations((0, -24.9464288354)):
            Circle(F0_R, mode=Mode.SUBTRACT)
        with Locations((21.6042411052, -12.4732144177)):
            Circle(F0_R, mode=Mode.SUBTRACT)
        with Locations((-21.6042411052, 12.4732144177)):
            Circle(F0_R, mode=Mode.SUBTRACT)
        Circle(F0_R, mode=Mode.SUBTRACT)
        with Locations((21.6042411052, 12.4732144177)):
            Circle(F0_R, mode=Mode.SUBTRACT)
        with Locations((0, 24.9464288354)):
            Circle(F0_R, mode=Mode.SUBTRACT)
    extrude(amount=F1_DEPTH)

    # F2
    f2_edges = [f1.edges().sort_by_distance(p)[0] for p in [
        (15.415547, -26.366143, 7),
        (33.113123, -18.937396, 7),
        (30.541524, 0.167184, 7),
        (32.956828, 19.208107, 7),
        (11.52563, 31.380701, 3.5),
        (-0.156295, 38.145503, 7),
        (-15.415547, 26.366143, 7),
        (-33.113123, 18.937396, 7),
        (-30.541524, -0.167184, 7),
        (-32.956828, -19.208107, 7),
        (0.156295, -38.145503, 7),
        (-15.125976, -26.533327, 7),
        (15.125976, 26.533327, 7),
        (33.113123, -18.937396, 0),
        (15.415547, -26.366143, 0),
        (0.156295, -38.145503, 0),
        (-15.125976, -26.533327, 0),
        (-32.956828, -19.208107, 0),
        (-30.541524, -0.167184, 0),
        (-33.113123, 18.937396, 0),
        (-15.415547, 26.366143, 0),
        (-0.156295, 38.145503, 0),
        (32.956828, 19.208107, 0),
        (15.125976, 26.533327, 0),
        (30.541524, 0.167184, 0),
    ]]
    fillet(f2_edges, radius=F2_R)


solid = f1.part
